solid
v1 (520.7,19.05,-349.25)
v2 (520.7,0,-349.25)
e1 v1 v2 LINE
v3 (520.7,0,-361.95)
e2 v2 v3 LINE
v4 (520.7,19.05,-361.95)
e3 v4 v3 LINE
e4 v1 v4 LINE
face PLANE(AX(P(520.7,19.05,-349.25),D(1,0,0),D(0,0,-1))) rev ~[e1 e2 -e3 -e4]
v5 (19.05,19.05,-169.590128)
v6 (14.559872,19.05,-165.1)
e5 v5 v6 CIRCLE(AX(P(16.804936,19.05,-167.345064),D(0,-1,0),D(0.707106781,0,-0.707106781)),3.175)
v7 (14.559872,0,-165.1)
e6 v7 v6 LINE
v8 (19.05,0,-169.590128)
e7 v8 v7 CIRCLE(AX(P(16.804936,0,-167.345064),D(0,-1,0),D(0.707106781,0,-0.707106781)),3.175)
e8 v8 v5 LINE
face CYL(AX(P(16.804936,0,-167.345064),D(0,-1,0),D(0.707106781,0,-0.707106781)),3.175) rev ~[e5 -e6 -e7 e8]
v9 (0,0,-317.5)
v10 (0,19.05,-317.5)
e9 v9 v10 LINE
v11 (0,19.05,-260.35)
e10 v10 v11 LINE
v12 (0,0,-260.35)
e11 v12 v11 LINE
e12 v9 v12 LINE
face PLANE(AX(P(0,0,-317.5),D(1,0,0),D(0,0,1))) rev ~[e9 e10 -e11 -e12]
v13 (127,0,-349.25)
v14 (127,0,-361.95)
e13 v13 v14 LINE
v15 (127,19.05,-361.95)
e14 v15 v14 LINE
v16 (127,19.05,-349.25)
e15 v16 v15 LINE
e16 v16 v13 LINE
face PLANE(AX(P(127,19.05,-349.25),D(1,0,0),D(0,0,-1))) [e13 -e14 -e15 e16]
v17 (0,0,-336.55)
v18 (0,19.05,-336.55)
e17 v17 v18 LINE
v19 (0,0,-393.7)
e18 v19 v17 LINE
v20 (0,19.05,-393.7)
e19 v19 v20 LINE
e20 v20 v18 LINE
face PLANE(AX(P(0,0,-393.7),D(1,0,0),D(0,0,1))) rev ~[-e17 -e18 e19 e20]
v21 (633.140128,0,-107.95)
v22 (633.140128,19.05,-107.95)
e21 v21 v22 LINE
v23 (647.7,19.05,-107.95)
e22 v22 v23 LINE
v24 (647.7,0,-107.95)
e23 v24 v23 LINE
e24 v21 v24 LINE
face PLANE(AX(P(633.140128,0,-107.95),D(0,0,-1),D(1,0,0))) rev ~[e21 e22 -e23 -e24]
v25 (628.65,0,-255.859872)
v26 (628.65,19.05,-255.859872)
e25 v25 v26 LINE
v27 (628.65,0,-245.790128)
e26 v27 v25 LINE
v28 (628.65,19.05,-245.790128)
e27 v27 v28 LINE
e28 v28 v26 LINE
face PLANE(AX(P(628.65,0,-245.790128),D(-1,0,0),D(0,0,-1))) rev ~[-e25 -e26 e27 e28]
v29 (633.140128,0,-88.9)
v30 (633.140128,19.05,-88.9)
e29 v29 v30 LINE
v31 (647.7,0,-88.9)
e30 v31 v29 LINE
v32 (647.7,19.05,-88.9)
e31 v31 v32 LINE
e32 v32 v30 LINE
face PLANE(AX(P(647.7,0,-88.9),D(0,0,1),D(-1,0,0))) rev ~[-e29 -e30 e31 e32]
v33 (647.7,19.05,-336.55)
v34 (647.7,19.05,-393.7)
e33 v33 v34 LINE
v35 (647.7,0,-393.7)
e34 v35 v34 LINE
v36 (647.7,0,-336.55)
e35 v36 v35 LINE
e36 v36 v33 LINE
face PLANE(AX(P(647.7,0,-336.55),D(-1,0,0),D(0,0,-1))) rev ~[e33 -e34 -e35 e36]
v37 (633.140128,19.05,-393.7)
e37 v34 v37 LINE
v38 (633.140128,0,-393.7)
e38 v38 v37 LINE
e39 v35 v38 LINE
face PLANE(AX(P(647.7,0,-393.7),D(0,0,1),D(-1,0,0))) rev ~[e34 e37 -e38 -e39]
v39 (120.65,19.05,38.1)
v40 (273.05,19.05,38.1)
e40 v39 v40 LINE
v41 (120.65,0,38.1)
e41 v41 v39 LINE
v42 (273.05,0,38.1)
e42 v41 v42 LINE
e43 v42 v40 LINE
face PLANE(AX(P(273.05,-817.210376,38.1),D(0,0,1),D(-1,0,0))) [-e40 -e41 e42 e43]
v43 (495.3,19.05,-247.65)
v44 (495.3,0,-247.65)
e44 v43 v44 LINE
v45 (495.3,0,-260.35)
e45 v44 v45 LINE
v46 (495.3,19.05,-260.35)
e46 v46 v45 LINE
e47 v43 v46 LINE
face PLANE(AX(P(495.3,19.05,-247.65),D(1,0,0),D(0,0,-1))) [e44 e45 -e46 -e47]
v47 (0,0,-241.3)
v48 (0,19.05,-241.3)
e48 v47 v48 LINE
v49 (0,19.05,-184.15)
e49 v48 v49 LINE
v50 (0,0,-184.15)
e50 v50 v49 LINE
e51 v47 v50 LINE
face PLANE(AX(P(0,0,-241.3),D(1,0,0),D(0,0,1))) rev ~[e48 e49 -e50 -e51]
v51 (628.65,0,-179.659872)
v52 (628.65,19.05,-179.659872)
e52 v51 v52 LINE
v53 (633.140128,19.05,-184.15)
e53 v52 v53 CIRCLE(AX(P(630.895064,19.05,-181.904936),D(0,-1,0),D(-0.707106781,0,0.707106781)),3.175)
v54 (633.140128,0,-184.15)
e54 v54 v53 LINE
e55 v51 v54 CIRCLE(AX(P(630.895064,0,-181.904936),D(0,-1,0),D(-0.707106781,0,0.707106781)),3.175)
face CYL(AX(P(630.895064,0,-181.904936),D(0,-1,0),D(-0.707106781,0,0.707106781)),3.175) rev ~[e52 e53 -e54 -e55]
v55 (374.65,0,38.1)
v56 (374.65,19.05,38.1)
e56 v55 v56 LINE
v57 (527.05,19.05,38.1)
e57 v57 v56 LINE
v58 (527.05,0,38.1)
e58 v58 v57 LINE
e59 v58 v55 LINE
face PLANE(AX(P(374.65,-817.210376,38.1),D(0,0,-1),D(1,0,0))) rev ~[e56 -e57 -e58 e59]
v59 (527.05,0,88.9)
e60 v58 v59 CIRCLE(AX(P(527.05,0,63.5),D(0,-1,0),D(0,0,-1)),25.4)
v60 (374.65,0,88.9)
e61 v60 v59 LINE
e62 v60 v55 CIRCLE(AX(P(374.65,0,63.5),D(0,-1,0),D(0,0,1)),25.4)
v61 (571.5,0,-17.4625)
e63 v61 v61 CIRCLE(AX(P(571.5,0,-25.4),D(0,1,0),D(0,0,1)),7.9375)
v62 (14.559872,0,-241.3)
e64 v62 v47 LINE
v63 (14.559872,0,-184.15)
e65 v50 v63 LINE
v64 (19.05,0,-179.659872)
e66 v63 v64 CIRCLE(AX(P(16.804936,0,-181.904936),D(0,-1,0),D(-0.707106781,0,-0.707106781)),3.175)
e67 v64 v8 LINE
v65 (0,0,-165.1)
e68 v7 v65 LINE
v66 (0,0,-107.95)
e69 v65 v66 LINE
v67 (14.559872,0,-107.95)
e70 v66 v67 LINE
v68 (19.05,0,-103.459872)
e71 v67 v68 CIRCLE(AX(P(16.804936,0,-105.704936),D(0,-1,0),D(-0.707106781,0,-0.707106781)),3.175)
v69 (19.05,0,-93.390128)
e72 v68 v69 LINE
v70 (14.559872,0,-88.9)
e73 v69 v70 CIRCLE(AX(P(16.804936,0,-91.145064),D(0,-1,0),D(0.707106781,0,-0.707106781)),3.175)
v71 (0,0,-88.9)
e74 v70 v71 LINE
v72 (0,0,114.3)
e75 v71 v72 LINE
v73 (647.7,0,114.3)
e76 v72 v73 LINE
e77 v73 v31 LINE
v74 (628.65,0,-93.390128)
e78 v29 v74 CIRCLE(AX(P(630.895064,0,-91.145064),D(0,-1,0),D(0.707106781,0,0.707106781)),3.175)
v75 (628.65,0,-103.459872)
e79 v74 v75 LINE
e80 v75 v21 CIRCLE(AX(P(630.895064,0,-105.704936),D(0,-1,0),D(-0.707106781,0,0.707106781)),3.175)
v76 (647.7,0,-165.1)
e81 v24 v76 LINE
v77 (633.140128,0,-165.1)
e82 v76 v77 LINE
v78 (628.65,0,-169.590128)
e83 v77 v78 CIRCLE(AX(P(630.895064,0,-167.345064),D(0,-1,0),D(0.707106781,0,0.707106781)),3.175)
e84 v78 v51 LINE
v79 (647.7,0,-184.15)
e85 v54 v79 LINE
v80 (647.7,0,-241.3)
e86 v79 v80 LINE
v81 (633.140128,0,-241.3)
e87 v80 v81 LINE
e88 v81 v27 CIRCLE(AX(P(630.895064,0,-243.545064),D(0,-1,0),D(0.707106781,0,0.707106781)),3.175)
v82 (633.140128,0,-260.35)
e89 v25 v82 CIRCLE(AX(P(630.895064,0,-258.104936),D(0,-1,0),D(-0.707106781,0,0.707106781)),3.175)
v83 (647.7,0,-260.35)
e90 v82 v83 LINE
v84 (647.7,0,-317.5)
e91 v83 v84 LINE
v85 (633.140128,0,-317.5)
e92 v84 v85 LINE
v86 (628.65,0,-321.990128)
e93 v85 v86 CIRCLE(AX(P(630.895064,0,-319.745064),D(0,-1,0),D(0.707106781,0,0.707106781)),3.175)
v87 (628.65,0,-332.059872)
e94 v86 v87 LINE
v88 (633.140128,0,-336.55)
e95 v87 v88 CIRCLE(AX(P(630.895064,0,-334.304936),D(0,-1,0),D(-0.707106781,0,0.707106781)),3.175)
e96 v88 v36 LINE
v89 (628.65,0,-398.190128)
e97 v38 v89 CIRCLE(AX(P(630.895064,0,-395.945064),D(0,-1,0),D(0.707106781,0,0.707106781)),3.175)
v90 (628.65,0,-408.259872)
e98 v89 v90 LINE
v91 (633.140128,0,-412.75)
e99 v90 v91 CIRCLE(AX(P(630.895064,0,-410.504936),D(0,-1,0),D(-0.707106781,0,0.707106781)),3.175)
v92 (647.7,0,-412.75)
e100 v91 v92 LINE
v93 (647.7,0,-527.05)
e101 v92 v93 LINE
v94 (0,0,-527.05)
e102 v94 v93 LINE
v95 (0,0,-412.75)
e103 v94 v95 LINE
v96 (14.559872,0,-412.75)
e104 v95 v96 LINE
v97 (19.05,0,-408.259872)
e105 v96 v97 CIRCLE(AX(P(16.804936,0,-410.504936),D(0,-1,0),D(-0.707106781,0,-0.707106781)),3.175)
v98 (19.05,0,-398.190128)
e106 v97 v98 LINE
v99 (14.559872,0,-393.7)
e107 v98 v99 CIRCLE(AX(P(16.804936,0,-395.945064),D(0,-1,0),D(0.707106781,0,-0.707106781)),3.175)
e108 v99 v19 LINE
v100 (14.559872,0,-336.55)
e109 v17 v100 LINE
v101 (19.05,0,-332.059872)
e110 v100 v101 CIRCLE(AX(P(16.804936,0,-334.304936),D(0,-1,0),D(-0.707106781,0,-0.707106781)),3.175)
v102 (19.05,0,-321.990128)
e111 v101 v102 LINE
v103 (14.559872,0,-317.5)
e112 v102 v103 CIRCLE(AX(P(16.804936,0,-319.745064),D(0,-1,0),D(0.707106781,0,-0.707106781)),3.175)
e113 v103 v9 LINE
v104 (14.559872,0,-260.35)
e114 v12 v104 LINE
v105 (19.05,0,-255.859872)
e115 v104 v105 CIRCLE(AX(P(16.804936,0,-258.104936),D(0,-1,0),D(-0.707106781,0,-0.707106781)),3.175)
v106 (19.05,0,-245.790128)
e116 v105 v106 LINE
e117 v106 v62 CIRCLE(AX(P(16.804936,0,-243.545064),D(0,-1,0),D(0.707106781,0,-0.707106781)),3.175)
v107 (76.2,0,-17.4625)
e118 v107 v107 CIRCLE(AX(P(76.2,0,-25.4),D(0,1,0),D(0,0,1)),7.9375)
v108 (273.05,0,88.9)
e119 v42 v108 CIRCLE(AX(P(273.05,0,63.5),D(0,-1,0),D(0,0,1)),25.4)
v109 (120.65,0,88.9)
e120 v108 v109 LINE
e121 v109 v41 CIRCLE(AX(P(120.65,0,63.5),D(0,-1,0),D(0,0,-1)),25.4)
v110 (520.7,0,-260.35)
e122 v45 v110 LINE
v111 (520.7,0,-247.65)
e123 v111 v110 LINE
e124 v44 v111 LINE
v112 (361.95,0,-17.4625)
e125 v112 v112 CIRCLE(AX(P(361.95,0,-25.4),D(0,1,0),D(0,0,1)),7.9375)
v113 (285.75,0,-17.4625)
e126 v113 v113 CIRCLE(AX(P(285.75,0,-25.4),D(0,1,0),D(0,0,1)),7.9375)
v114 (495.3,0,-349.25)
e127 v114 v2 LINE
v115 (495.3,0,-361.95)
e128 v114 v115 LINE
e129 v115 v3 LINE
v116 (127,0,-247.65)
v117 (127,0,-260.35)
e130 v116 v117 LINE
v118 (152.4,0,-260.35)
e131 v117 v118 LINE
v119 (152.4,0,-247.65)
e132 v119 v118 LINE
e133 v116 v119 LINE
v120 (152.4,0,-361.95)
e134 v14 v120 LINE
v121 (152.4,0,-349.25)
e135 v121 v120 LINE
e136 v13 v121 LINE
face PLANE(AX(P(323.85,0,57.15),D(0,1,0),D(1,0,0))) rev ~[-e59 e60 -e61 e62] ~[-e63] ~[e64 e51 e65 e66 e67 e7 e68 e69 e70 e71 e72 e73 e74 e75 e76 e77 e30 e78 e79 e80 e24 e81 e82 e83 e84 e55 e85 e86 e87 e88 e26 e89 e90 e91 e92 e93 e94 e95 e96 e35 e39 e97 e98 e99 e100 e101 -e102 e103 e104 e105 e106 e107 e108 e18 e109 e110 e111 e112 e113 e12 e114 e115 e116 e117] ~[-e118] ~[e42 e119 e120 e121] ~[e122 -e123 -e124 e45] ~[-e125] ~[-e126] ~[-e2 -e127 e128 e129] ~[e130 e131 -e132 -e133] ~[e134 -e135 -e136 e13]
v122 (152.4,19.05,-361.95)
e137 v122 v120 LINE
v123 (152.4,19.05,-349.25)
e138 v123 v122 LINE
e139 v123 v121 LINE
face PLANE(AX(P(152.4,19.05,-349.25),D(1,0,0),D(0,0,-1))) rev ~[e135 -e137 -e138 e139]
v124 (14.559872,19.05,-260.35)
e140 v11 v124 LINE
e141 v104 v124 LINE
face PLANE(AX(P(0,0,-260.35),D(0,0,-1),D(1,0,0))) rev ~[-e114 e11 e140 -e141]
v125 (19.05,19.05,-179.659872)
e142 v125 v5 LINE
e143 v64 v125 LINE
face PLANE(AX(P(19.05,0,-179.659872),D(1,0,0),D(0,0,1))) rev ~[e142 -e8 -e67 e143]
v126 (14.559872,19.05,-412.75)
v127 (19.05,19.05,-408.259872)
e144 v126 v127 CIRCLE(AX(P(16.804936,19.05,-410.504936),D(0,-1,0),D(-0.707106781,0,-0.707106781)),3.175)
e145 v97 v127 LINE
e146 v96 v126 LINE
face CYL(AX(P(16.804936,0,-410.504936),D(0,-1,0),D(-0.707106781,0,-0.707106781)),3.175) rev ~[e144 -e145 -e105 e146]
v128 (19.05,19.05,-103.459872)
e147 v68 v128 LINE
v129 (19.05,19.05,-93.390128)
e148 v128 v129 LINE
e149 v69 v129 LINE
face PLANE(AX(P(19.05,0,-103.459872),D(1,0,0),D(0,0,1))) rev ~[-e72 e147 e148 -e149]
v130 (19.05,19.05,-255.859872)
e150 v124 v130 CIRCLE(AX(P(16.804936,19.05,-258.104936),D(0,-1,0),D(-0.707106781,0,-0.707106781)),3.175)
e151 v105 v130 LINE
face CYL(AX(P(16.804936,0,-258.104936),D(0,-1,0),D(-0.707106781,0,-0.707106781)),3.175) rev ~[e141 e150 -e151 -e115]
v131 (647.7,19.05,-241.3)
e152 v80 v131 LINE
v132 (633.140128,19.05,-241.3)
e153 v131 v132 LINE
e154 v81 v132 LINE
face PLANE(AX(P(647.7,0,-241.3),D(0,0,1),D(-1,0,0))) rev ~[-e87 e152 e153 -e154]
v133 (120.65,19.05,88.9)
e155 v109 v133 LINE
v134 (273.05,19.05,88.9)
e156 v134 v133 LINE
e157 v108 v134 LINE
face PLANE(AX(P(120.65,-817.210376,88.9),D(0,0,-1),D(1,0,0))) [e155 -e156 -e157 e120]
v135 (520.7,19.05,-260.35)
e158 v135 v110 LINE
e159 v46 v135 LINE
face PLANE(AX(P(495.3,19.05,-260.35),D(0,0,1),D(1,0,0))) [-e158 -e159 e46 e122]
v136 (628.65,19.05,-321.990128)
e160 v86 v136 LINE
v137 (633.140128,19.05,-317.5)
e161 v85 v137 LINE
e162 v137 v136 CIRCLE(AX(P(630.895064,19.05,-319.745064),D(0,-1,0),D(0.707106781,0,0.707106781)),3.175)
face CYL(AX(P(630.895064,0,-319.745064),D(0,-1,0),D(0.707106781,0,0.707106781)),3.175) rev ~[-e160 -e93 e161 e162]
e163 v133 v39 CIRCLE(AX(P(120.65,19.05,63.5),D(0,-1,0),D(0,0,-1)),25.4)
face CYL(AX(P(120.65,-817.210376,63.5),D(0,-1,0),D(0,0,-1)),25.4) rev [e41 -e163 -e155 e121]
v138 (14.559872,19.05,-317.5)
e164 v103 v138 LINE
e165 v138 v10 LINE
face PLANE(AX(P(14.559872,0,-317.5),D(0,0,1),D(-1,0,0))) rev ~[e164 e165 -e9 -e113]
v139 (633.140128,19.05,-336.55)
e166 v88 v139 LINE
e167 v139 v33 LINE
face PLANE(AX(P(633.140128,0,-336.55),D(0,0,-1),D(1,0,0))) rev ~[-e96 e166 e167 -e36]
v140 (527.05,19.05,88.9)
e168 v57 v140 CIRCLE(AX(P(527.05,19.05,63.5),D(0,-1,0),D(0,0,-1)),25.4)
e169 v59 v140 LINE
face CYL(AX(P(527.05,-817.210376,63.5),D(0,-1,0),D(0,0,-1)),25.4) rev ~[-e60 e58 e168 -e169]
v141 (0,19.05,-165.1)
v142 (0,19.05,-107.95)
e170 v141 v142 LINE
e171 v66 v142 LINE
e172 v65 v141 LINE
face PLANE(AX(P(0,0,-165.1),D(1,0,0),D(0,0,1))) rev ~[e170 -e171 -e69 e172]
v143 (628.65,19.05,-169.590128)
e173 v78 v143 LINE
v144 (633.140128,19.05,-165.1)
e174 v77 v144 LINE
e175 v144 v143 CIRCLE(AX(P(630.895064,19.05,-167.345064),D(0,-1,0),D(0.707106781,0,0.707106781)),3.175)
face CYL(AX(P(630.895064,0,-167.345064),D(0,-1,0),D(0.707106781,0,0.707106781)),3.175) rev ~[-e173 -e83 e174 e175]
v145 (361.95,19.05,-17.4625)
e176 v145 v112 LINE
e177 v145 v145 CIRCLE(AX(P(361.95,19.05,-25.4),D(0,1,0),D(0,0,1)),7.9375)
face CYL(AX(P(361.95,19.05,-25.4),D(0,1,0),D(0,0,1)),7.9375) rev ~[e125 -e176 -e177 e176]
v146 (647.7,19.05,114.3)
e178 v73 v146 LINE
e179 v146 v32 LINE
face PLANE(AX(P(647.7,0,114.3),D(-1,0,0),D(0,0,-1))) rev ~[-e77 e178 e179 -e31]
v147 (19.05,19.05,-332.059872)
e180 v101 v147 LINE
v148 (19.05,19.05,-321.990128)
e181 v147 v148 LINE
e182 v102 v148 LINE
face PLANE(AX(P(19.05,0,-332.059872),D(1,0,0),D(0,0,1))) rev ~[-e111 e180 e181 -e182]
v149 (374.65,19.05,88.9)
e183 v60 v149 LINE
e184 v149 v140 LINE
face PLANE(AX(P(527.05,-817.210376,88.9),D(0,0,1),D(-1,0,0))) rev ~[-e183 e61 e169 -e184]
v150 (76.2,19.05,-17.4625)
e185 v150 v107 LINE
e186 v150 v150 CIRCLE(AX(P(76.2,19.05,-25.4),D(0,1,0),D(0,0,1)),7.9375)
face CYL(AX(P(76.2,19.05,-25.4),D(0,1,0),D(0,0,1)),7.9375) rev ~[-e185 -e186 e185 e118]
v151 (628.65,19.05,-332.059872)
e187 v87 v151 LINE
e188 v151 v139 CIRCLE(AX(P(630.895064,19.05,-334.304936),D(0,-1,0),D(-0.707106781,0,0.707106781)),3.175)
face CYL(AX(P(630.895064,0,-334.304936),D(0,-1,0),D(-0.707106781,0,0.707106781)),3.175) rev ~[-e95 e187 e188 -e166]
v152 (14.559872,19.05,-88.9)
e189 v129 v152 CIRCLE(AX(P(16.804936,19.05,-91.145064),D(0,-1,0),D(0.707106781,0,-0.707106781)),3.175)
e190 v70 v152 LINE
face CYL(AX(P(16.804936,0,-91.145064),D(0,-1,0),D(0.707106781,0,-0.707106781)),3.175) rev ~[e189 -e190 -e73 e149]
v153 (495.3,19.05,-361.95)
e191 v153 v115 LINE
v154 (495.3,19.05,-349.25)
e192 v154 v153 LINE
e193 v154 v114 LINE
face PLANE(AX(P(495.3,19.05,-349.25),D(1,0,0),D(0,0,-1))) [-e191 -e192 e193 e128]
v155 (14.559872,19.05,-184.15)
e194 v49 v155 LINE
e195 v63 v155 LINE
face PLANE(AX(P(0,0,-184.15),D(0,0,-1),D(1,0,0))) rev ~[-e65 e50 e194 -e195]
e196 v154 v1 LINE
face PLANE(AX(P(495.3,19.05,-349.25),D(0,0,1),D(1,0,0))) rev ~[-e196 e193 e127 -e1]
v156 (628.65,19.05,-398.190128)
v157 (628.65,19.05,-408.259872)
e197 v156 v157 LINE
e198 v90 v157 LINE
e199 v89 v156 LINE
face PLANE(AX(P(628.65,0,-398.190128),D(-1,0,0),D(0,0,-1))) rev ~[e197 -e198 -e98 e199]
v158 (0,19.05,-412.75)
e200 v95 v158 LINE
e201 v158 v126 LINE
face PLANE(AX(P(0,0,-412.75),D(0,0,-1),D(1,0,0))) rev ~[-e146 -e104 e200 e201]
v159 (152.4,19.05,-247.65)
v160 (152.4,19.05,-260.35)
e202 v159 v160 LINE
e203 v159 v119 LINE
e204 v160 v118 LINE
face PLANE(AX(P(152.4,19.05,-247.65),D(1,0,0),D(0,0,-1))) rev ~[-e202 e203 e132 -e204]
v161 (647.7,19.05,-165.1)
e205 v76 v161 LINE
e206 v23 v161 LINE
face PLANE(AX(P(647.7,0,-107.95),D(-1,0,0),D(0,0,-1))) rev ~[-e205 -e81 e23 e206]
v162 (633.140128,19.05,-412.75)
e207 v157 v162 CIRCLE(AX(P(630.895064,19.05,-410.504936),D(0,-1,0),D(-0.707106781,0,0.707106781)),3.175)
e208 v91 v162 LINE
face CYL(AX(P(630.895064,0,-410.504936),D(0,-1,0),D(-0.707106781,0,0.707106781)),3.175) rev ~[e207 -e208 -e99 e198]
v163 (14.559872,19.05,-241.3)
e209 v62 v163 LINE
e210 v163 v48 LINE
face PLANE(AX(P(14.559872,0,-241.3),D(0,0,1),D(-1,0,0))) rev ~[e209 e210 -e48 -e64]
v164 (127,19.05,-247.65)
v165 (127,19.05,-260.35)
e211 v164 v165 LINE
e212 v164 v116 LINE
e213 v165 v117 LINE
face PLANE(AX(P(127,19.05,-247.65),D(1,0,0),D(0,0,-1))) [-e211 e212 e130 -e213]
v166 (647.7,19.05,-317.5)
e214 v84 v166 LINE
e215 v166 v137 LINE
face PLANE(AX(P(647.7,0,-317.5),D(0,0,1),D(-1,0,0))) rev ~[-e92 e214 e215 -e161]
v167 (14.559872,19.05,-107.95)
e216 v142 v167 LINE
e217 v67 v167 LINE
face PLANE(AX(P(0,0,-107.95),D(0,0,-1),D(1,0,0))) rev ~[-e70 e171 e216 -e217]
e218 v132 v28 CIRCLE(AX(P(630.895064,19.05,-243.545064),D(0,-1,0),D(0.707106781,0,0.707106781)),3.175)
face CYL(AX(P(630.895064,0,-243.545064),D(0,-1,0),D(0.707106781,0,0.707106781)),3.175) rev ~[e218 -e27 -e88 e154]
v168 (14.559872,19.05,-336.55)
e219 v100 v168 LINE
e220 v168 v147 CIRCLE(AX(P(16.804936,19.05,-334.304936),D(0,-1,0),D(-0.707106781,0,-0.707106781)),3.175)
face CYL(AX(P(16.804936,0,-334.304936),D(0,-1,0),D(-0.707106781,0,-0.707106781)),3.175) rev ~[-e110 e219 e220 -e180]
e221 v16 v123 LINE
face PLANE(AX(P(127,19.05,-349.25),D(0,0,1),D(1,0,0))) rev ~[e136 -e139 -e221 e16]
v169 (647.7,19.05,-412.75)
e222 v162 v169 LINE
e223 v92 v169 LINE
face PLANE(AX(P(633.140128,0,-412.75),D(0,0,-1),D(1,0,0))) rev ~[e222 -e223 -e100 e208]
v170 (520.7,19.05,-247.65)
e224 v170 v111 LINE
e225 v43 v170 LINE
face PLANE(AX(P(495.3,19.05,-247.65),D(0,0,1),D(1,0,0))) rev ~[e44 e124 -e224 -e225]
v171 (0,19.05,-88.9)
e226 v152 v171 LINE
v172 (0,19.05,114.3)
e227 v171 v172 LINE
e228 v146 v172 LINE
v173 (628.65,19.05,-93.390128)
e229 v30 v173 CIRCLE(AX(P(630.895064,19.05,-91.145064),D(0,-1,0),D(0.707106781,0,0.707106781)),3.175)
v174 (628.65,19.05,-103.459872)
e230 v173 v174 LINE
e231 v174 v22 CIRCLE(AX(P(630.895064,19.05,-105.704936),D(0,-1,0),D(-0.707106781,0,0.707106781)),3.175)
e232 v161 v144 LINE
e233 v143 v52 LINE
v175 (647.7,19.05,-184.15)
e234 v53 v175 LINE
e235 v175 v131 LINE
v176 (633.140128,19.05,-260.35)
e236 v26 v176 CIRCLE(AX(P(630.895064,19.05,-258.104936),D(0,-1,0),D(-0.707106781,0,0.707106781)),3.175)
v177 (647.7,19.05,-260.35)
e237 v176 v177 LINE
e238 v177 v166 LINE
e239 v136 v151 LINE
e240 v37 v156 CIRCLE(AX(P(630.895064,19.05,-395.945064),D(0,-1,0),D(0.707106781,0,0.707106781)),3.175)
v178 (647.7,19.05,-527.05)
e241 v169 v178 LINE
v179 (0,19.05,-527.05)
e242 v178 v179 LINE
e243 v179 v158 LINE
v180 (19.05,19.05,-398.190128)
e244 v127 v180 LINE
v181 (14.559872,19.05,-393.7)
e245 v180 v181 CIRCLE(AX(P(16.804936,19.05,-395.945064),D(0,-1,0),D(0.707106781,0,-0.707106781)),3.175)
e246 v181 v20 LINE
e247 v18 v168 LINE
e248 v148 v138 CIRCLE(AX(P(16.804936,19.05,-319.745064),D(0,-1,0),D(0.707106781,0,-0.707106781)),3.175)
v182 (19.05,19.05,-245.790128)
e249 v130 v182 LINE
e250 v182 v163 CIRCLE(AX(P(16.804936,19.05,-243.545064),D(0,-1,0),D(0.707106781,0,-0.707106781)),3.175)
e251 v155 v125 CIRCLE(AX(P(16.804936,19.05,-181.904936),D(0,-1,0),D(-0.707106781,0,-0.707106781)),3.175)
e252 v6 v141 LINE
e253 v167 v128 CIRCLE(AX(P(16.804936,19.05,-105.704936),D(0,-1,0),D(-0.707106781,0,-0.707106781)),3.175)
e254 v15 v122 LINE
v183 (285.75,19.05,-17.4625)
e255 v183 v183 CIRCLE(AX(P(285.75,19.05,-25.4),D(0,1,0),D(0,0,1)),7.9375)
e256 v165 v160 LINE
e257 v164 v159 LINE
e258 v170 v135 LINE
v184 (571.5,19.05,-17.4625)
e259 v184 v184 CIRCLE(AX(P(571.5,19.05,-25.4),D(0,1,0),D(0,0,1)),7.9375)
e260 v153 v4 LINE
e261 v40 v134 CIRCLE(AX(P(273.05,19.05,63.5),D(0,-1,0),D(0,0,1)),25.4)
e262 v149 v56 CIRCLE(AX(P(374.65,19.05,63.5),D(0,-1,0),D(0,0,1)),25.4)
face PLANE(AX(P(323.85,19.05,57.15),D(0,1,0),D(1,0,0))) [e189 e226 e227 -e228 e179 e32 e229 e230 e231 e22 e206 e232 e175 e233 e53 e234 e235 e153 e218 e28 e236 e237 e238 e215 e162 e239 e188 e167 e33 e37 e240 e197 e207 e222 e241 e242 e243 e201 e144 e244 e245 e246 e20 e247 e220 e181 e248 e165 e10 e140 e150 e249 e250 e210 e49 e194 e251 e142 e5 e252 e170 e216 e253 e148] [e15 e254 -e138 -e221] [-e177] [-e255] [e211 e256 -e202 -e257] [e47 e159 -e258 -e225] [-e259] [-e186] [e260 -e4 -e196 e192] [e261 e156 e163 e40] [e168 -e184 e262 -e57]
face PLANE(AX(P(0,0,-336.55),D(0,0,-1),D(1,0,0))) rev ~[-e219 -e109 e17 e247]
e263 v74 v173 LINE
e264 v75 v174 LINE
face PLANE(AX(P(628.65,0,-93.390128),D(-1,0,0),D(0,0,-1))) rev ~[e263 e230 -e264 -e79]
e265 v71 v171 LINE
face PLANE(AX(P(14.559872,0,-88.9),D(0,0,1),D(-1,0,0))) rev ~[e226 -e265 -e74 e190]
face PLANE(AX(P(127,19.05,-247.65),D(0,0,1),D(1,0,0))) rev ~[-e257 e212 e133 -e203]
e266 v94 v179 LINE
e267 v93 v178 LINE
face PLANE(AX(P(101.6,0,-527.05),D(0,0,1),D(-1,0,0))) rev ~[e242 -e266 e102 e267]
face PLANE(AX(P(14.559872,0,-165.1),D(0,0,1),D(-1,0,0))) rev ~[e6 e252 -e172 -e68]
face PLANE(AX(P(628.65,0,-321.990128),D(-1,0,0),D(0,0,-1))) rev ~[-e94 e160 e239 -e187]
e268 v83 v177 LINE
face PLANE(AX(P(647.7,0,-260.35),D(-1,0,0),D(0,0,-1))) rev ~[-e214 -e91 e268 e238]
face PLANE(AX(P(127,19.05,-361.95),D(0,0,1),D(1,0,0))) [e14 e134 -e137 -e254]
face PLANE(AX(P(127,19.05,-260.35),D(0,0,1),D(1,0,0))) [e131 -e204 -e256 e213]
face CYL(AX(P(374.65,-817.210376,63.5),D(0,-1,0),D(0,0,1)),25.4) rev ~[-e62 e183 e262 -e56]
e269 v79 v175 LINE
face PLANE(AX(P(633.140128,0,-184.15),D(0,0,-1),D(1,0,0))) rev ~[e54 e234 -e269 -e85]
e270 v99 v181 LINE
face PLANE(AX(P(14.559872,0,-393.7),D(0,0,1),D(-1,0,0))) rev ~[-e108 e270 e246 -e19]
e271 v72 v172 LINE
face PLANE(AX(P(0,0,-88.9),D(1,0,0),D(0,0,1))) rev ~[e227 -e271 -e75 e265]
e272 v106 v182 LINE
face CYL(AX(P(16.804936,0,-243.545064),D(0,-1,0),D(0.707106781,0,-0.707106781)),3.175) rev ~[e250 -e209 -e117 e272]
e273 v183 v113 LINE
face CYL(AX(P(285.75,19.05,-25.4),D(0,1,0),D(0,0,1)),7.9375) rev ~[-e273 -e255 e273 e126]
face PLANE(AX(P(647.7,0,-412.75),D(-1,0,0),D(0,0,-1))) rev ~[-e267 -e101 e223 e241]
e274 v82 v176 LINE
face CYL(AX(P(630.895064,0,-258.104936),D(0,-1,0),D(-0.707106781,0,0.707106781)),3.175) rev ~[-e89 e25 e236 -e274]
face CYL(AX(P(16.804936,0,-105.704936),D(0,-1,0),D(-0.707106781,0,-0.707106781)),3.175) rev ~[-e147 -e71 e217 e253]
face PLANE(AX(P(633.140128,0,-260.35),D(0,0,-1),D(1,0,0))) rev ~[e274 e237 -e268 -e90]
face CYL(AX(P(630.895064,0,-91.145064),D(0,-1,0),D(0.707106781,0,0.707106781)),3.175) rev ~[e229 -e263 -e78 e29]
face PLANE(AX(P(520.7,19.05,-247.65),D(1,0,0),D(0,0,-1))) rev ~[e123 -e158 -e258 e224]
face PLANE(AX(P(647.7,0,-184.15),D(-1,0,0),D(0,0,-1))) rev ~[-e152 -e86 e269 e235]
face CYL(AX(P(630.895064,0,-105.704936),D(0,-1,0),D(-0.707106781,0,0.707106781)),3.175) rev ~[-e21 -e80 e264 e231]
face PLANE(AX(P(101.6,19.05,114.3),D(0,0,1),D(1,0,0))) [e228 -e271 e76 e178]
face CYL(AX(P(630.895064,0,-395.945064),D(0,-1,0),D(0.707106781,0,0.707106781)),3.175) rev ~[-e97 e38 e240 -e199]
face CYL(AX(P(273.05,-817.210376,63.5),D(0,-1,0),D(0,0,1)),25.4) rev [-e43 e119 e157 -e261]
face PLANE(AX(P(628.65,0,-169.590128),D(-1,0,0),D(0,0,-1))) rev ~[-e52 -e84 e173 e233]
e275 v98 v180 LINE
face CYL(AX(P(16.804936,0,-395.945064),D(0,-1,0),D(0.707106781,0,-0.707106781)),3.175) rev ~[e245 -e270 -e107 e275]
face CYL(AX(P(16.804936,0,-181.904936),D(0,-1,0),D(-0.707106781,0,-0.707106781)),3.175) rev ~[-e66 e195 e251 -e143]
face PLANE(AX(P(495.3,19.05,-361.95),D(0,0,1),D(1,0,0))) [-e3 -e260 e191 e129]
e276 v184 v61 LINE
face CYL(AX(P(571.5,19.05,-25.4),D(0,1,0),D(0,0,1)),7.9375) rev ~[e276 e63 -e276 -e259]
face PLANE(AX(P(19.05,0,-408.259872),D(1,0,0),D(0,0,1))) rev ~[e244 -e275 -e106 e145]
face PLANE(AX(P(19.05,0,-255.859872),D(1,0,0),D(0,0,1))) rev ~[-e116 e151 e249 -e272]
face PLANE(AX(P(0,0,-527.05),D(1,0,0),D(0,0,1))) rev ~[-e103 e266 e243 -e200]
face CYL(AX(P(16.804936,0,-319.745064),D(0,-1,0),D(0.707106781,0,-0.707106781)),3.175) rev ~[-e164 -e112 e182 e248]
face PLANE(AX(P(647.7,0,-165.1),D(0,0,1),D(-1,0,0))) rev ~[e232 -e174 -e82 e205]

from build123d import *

# Parameters (mm, degrees)
BOSS_EXTRUDE1_DEPTH     = 19.05
SKETCH2_R               = 7.9375
CUT_EXTRUDE1_DEPTH      = 836.260375572
SKETCH3_W               = 25.4
SKETCH3_H               = 12.7
CUT_EXTRUDE2_DEPTH      = 836.260375572
SKETCH4_W               = 444.5
SKETCH4_H               = 114.3
BOSS_EXTRUDE2_DEPTH     = 19.05
CUT_EXTRUDE3_DEPTH      = 836.260375572
CUT_EXTRUDE3_DEPTH_BACK = 836.260375572


with BuildPart() as part:
    # Sketch1 → Boss-Extrude1 (new body)
    with BuildSketch(Plane(origin=(0, 0, 0), x_dir=(1, 0, 0), z_dir=(0, 1, 0))):
        with BuildLine():
            Line((0, 88.9), (0, -114.3))
            Line((0, -114.3), (101.6, -114.3))
            Line((101.6, -114.3), (101.6, 0))
            Line((101.6, 0), (546.1, 0))
            Line((546.1, 0), (546.1, -114.3))
            Line((546.1, -114.3), (647.7, -114.3))
            Line((647.7, -114.3), (647.7, 88.9))
            Line((647.7, 88.9), (633.140128061, 88.9))
            ThreePointArc((633.140128061, 88.9), (628.65, 88.9), (628.65, 93.390128061))
            Line((628.65, 93.390128061), (628.65, 103.459871939))
            ThreePointArc((628.65, 103.459871939), (628.65, 107.95), (633.140128061, 107.95))
            Line((633.140128061, 107.95), (647.7, 107.95))
            Line((647.7, 107.95), (647.7, 165.1))
            Line((647.7, 165.1), (633.140128061, 165.1))
            ThreePointArc((633.140128061, 165.1), (628.65, 165.1), (628.65, 169.590128061))
            Line((628.65, 169.590128061), (628.65, 179.659871939))
            ThreePointArc((628.65, 179.659871939), (628.65, 184.15), (633.140128061, 184.15))
            Line((633.140128061, 184.15), (647.7, 184.15))
            Line((647.7, 184.15), (647.7, 241.3))
            Line((647.7, 241.3), (633.140128061, 241.3))
            ThreePointArc((633.140128061, 241.3), (628.65, 241.3), (628.65, 245.790128061))
            Line((628.65, 245.790128061), (628.65, 255.859871939))
            ThreePointArc((628.65, 255.859871939), (628.65, 260.35), (633.140128061, 260.35))
            Line((633.140128061, 260.35), (647.7, 260.35))
            Line((647.7, 260.35), (647.7, 317.5))
            Line((647.7, 317.5), (633.140128061, 317.5))
            ThreePointArc((633.140128061, 317.5), (628.65, 317.5), (628.65, 321.990128061))
            Line((628.65, 321.990128061), (628.65, 332.059871939))
            ThreePointArc((628.65, 332.059871939), (628.65, 336.55), (633.140128061, 336.55))
            Line((633.140128061, 336.55), (647.7, 336.55))
            Line((647.7, 336.55), (647.7, 393.7))
            Line((647.7, 393.7), (633.140128061, 393.7))
            ThreePointArc((633.140128061, 393.7), (628.65, 393.7), (628.65, 398.190128061))
            Line((628.65, 398.190128061), (628.65, 408.259871939))
            ThreePointArc((628.65, 408.259871939), (628.65, 412.75), (633.140128061, 412.75))
            Line((633.140128061, 412.75), (647.7, 412.75))
            Line((647.7, 412.75), (647.7, 527.05))
            Line((647.7, 527.05), (546.1, 527.05))
            Line((546.1, 527.05), (546.1, 412.75))
            Line((546.1, 412.75), (101.6, 412.75))
            Line((101.6, 412.75), (101.6, 527.05))
            Line((101.6, 527.05), (0, 527.05))
            Line((0, 527.05), (0, 412.75))
            Line((0, 412.75), (14.559871939, 412.75))
            ThreePointArc((14.559871939, 412.75), (19.05, 412.75), (19.05, 408.259871939))
            Line((19.05, 408.259871939), (19.05, 398.190128061))
            ThreePointArc((19.05, 398.190128061), (19.05, 393.7), (14.559871939, 393.7))
            Line((14.559871939, 393.7), (0, 393.7))
            Line((0, 393.7), (0, 336.55))
            Line((0, 336.55), (14.559871939, 336.55))
            ThreePointArc((14.559871939, 336.55), (19.05, 336.55), (19.05, 332.059871939))
            Line((19.05, 332.059871939), (19.05, 321.990128061))
            ThreePointArc((19.05, 321.990128061), (19.05, 317.5), (14.559871939, 317.5))
            Line((14.559871939, 317.5), (0, 317.5))
            Line((0, 317.5), (0, 260.35))
            Line((0, 260.35), (14.559871939, 260.35))
            ThreePointArc((14.559871939, 260.35), (19.05, 260.35), (19.05, 255.859871939))
            Line((19.05, 255.859871939), (19.05, 245.790128061))
            ThreePointArc((19.05, 245.790128061), (19.05, 241.3), (14.559871939, 241.3))
            Line((14.559871939, 241.3), (0, 241.3))
            Line((0, 241.3), (0, 184.15))
            Line((0, 184.15), (14.559871939, 184.15))
            ThreePointArc((14.559871939, 184.15), (19.05, 184.15), (19.05, 179.659871939))
            Line((19.05, 179.659871939), (19.05, 169.590128061))
            ThreePointArc((19.05, 169.590128061), (19.05, 165.1), (14.559871939, 165.1))
            Line((14.559871939, 165.1), (0, 165.1))
            Line((0, 165.1), (0, 107.95))
            Line((0, 107.95), (14.559871939, 107.95))
            ThreePointArc((14.559871939, 107.95), (19.05, 107.95), (19.05, 103.459871939))
            Line((19.05, 103.459871939), (19.05, 93.390128061))
            ThreePointArc((19.05, 93.390128061), (19.05, 88.9), (14.559871939, 88.9))
            Line((14.559871939, 88.9), (0, 88.9))
        make_face()
    extrude(amount=BOSS_EXTRUDE1_DEPTH)

    # Sketch2 → Cut-Extrude1 (cut, through all)
    with BuildSketch(Plane(origin=(0, 19.05, 0), x_dir=(1, 0, 0), z_dir=(0, 1, 0))):
        with Locations(Location((361.95, 25.4, 0), (0, 0, 270))):
            Circle(SKETCH2_R)
        with Locations(Location((285.75, 25.4, 0), (0, 0, 270))):
            Circle(SKETCH2_R)
        with Locations(Location((571.5, 25.4, 0), (0, 0, 270))):
            Circle(SKETCH2_R)
        with Locations(Location((76.2, 25.4, 0), (0, 0, 270))):
            Circle(SKETCH2_R)
    extrude(amount=-CUT_EXTRUDE1_DEPTH, mode=Mode.SUBTRACT)

    # Sketch3 → Cut-Extrude2 (cut, through all)
    with BuildSketch(Plane(origin=(0, 19.05, 0), x_dir=(1, 0, 0), z_dir=(0, 1, 0))):
        with Locations((508, 355.6)):
            Rectangle(SKETCH3_W, SKETCH3_H)
        with Locations((508, 254)):
            Rectangle(SKETCH3_W, SKETCH3_H)
        with Locations((139.7, 254)):
            Rectangle(SKETCH3_W, SKETCH3_H)
        with Locations((139.7, 355.6)):
            Rectangle(SKETCH3_W, SKETCH3_H)
    extrude(amount=-CUT_EXTRUDE2_DEPTH, mode=Mode.SUBTRACT)

    # Sketch4 → Boss-Extrude2 (add)
    with BuildSketch(Plane(origin=(0, 19.05, 0), x_dir=(1, 0, 0), z_dir=(0, 1, 0))):
        with Locations((323.85, -57.15)):
            Rectangle(SKETCH4_W, SKETCH4_H)
        with Locations((323.85, 469.9)):
            Rectangle(SKETCH4_W, SKETCH4_H)
    extrude(amount=-BOSS_EXTRUDE2_DEPTH)

    # Sketch5 → Cut-Extrude3 (cut, two sides: drawn at the far end of the back side and taken through both)
    with BuildSketch(Plane(origin=(0, 19.05, 0), x_dir=(1, 0, 0), z_dir=(0, 1, 0)).offset(-CUT_EXTRUDE3_DEPTH_BACK)):
        with BuildLine():
            Line((374.65, -38.1), (527.05, -38.1))
            ThreePointArc((527.05, -38.1), (552.45, -63.5), (527.05, -88.9))
            Line((527.05, -88.9), (374.65, -88.9))
            ThreePointArc((374.65, -88.9), (349.25, -63.5), (374.65, -38.1))
        make_face()
        with BuildLine():
            Line((273.05, -38.1), (120.65, -38.1))
            ThreePointArc((120.65, -38.1), (95.25, -63.5), (120.65, -88.9))
            Line((120.65, -88.9), (273.05, -88.9))
            ThreePointArc((273.05, -88.9), (298.45, -63.5), (273.05, -38.1))
        make_face()
    extrude(amount=CUT_EXTRUDE3_DEPTH + CUT_EXTRUDE3_DEPTH_BACK, mode=Mode.SUBTRACT)


solid = part.part
